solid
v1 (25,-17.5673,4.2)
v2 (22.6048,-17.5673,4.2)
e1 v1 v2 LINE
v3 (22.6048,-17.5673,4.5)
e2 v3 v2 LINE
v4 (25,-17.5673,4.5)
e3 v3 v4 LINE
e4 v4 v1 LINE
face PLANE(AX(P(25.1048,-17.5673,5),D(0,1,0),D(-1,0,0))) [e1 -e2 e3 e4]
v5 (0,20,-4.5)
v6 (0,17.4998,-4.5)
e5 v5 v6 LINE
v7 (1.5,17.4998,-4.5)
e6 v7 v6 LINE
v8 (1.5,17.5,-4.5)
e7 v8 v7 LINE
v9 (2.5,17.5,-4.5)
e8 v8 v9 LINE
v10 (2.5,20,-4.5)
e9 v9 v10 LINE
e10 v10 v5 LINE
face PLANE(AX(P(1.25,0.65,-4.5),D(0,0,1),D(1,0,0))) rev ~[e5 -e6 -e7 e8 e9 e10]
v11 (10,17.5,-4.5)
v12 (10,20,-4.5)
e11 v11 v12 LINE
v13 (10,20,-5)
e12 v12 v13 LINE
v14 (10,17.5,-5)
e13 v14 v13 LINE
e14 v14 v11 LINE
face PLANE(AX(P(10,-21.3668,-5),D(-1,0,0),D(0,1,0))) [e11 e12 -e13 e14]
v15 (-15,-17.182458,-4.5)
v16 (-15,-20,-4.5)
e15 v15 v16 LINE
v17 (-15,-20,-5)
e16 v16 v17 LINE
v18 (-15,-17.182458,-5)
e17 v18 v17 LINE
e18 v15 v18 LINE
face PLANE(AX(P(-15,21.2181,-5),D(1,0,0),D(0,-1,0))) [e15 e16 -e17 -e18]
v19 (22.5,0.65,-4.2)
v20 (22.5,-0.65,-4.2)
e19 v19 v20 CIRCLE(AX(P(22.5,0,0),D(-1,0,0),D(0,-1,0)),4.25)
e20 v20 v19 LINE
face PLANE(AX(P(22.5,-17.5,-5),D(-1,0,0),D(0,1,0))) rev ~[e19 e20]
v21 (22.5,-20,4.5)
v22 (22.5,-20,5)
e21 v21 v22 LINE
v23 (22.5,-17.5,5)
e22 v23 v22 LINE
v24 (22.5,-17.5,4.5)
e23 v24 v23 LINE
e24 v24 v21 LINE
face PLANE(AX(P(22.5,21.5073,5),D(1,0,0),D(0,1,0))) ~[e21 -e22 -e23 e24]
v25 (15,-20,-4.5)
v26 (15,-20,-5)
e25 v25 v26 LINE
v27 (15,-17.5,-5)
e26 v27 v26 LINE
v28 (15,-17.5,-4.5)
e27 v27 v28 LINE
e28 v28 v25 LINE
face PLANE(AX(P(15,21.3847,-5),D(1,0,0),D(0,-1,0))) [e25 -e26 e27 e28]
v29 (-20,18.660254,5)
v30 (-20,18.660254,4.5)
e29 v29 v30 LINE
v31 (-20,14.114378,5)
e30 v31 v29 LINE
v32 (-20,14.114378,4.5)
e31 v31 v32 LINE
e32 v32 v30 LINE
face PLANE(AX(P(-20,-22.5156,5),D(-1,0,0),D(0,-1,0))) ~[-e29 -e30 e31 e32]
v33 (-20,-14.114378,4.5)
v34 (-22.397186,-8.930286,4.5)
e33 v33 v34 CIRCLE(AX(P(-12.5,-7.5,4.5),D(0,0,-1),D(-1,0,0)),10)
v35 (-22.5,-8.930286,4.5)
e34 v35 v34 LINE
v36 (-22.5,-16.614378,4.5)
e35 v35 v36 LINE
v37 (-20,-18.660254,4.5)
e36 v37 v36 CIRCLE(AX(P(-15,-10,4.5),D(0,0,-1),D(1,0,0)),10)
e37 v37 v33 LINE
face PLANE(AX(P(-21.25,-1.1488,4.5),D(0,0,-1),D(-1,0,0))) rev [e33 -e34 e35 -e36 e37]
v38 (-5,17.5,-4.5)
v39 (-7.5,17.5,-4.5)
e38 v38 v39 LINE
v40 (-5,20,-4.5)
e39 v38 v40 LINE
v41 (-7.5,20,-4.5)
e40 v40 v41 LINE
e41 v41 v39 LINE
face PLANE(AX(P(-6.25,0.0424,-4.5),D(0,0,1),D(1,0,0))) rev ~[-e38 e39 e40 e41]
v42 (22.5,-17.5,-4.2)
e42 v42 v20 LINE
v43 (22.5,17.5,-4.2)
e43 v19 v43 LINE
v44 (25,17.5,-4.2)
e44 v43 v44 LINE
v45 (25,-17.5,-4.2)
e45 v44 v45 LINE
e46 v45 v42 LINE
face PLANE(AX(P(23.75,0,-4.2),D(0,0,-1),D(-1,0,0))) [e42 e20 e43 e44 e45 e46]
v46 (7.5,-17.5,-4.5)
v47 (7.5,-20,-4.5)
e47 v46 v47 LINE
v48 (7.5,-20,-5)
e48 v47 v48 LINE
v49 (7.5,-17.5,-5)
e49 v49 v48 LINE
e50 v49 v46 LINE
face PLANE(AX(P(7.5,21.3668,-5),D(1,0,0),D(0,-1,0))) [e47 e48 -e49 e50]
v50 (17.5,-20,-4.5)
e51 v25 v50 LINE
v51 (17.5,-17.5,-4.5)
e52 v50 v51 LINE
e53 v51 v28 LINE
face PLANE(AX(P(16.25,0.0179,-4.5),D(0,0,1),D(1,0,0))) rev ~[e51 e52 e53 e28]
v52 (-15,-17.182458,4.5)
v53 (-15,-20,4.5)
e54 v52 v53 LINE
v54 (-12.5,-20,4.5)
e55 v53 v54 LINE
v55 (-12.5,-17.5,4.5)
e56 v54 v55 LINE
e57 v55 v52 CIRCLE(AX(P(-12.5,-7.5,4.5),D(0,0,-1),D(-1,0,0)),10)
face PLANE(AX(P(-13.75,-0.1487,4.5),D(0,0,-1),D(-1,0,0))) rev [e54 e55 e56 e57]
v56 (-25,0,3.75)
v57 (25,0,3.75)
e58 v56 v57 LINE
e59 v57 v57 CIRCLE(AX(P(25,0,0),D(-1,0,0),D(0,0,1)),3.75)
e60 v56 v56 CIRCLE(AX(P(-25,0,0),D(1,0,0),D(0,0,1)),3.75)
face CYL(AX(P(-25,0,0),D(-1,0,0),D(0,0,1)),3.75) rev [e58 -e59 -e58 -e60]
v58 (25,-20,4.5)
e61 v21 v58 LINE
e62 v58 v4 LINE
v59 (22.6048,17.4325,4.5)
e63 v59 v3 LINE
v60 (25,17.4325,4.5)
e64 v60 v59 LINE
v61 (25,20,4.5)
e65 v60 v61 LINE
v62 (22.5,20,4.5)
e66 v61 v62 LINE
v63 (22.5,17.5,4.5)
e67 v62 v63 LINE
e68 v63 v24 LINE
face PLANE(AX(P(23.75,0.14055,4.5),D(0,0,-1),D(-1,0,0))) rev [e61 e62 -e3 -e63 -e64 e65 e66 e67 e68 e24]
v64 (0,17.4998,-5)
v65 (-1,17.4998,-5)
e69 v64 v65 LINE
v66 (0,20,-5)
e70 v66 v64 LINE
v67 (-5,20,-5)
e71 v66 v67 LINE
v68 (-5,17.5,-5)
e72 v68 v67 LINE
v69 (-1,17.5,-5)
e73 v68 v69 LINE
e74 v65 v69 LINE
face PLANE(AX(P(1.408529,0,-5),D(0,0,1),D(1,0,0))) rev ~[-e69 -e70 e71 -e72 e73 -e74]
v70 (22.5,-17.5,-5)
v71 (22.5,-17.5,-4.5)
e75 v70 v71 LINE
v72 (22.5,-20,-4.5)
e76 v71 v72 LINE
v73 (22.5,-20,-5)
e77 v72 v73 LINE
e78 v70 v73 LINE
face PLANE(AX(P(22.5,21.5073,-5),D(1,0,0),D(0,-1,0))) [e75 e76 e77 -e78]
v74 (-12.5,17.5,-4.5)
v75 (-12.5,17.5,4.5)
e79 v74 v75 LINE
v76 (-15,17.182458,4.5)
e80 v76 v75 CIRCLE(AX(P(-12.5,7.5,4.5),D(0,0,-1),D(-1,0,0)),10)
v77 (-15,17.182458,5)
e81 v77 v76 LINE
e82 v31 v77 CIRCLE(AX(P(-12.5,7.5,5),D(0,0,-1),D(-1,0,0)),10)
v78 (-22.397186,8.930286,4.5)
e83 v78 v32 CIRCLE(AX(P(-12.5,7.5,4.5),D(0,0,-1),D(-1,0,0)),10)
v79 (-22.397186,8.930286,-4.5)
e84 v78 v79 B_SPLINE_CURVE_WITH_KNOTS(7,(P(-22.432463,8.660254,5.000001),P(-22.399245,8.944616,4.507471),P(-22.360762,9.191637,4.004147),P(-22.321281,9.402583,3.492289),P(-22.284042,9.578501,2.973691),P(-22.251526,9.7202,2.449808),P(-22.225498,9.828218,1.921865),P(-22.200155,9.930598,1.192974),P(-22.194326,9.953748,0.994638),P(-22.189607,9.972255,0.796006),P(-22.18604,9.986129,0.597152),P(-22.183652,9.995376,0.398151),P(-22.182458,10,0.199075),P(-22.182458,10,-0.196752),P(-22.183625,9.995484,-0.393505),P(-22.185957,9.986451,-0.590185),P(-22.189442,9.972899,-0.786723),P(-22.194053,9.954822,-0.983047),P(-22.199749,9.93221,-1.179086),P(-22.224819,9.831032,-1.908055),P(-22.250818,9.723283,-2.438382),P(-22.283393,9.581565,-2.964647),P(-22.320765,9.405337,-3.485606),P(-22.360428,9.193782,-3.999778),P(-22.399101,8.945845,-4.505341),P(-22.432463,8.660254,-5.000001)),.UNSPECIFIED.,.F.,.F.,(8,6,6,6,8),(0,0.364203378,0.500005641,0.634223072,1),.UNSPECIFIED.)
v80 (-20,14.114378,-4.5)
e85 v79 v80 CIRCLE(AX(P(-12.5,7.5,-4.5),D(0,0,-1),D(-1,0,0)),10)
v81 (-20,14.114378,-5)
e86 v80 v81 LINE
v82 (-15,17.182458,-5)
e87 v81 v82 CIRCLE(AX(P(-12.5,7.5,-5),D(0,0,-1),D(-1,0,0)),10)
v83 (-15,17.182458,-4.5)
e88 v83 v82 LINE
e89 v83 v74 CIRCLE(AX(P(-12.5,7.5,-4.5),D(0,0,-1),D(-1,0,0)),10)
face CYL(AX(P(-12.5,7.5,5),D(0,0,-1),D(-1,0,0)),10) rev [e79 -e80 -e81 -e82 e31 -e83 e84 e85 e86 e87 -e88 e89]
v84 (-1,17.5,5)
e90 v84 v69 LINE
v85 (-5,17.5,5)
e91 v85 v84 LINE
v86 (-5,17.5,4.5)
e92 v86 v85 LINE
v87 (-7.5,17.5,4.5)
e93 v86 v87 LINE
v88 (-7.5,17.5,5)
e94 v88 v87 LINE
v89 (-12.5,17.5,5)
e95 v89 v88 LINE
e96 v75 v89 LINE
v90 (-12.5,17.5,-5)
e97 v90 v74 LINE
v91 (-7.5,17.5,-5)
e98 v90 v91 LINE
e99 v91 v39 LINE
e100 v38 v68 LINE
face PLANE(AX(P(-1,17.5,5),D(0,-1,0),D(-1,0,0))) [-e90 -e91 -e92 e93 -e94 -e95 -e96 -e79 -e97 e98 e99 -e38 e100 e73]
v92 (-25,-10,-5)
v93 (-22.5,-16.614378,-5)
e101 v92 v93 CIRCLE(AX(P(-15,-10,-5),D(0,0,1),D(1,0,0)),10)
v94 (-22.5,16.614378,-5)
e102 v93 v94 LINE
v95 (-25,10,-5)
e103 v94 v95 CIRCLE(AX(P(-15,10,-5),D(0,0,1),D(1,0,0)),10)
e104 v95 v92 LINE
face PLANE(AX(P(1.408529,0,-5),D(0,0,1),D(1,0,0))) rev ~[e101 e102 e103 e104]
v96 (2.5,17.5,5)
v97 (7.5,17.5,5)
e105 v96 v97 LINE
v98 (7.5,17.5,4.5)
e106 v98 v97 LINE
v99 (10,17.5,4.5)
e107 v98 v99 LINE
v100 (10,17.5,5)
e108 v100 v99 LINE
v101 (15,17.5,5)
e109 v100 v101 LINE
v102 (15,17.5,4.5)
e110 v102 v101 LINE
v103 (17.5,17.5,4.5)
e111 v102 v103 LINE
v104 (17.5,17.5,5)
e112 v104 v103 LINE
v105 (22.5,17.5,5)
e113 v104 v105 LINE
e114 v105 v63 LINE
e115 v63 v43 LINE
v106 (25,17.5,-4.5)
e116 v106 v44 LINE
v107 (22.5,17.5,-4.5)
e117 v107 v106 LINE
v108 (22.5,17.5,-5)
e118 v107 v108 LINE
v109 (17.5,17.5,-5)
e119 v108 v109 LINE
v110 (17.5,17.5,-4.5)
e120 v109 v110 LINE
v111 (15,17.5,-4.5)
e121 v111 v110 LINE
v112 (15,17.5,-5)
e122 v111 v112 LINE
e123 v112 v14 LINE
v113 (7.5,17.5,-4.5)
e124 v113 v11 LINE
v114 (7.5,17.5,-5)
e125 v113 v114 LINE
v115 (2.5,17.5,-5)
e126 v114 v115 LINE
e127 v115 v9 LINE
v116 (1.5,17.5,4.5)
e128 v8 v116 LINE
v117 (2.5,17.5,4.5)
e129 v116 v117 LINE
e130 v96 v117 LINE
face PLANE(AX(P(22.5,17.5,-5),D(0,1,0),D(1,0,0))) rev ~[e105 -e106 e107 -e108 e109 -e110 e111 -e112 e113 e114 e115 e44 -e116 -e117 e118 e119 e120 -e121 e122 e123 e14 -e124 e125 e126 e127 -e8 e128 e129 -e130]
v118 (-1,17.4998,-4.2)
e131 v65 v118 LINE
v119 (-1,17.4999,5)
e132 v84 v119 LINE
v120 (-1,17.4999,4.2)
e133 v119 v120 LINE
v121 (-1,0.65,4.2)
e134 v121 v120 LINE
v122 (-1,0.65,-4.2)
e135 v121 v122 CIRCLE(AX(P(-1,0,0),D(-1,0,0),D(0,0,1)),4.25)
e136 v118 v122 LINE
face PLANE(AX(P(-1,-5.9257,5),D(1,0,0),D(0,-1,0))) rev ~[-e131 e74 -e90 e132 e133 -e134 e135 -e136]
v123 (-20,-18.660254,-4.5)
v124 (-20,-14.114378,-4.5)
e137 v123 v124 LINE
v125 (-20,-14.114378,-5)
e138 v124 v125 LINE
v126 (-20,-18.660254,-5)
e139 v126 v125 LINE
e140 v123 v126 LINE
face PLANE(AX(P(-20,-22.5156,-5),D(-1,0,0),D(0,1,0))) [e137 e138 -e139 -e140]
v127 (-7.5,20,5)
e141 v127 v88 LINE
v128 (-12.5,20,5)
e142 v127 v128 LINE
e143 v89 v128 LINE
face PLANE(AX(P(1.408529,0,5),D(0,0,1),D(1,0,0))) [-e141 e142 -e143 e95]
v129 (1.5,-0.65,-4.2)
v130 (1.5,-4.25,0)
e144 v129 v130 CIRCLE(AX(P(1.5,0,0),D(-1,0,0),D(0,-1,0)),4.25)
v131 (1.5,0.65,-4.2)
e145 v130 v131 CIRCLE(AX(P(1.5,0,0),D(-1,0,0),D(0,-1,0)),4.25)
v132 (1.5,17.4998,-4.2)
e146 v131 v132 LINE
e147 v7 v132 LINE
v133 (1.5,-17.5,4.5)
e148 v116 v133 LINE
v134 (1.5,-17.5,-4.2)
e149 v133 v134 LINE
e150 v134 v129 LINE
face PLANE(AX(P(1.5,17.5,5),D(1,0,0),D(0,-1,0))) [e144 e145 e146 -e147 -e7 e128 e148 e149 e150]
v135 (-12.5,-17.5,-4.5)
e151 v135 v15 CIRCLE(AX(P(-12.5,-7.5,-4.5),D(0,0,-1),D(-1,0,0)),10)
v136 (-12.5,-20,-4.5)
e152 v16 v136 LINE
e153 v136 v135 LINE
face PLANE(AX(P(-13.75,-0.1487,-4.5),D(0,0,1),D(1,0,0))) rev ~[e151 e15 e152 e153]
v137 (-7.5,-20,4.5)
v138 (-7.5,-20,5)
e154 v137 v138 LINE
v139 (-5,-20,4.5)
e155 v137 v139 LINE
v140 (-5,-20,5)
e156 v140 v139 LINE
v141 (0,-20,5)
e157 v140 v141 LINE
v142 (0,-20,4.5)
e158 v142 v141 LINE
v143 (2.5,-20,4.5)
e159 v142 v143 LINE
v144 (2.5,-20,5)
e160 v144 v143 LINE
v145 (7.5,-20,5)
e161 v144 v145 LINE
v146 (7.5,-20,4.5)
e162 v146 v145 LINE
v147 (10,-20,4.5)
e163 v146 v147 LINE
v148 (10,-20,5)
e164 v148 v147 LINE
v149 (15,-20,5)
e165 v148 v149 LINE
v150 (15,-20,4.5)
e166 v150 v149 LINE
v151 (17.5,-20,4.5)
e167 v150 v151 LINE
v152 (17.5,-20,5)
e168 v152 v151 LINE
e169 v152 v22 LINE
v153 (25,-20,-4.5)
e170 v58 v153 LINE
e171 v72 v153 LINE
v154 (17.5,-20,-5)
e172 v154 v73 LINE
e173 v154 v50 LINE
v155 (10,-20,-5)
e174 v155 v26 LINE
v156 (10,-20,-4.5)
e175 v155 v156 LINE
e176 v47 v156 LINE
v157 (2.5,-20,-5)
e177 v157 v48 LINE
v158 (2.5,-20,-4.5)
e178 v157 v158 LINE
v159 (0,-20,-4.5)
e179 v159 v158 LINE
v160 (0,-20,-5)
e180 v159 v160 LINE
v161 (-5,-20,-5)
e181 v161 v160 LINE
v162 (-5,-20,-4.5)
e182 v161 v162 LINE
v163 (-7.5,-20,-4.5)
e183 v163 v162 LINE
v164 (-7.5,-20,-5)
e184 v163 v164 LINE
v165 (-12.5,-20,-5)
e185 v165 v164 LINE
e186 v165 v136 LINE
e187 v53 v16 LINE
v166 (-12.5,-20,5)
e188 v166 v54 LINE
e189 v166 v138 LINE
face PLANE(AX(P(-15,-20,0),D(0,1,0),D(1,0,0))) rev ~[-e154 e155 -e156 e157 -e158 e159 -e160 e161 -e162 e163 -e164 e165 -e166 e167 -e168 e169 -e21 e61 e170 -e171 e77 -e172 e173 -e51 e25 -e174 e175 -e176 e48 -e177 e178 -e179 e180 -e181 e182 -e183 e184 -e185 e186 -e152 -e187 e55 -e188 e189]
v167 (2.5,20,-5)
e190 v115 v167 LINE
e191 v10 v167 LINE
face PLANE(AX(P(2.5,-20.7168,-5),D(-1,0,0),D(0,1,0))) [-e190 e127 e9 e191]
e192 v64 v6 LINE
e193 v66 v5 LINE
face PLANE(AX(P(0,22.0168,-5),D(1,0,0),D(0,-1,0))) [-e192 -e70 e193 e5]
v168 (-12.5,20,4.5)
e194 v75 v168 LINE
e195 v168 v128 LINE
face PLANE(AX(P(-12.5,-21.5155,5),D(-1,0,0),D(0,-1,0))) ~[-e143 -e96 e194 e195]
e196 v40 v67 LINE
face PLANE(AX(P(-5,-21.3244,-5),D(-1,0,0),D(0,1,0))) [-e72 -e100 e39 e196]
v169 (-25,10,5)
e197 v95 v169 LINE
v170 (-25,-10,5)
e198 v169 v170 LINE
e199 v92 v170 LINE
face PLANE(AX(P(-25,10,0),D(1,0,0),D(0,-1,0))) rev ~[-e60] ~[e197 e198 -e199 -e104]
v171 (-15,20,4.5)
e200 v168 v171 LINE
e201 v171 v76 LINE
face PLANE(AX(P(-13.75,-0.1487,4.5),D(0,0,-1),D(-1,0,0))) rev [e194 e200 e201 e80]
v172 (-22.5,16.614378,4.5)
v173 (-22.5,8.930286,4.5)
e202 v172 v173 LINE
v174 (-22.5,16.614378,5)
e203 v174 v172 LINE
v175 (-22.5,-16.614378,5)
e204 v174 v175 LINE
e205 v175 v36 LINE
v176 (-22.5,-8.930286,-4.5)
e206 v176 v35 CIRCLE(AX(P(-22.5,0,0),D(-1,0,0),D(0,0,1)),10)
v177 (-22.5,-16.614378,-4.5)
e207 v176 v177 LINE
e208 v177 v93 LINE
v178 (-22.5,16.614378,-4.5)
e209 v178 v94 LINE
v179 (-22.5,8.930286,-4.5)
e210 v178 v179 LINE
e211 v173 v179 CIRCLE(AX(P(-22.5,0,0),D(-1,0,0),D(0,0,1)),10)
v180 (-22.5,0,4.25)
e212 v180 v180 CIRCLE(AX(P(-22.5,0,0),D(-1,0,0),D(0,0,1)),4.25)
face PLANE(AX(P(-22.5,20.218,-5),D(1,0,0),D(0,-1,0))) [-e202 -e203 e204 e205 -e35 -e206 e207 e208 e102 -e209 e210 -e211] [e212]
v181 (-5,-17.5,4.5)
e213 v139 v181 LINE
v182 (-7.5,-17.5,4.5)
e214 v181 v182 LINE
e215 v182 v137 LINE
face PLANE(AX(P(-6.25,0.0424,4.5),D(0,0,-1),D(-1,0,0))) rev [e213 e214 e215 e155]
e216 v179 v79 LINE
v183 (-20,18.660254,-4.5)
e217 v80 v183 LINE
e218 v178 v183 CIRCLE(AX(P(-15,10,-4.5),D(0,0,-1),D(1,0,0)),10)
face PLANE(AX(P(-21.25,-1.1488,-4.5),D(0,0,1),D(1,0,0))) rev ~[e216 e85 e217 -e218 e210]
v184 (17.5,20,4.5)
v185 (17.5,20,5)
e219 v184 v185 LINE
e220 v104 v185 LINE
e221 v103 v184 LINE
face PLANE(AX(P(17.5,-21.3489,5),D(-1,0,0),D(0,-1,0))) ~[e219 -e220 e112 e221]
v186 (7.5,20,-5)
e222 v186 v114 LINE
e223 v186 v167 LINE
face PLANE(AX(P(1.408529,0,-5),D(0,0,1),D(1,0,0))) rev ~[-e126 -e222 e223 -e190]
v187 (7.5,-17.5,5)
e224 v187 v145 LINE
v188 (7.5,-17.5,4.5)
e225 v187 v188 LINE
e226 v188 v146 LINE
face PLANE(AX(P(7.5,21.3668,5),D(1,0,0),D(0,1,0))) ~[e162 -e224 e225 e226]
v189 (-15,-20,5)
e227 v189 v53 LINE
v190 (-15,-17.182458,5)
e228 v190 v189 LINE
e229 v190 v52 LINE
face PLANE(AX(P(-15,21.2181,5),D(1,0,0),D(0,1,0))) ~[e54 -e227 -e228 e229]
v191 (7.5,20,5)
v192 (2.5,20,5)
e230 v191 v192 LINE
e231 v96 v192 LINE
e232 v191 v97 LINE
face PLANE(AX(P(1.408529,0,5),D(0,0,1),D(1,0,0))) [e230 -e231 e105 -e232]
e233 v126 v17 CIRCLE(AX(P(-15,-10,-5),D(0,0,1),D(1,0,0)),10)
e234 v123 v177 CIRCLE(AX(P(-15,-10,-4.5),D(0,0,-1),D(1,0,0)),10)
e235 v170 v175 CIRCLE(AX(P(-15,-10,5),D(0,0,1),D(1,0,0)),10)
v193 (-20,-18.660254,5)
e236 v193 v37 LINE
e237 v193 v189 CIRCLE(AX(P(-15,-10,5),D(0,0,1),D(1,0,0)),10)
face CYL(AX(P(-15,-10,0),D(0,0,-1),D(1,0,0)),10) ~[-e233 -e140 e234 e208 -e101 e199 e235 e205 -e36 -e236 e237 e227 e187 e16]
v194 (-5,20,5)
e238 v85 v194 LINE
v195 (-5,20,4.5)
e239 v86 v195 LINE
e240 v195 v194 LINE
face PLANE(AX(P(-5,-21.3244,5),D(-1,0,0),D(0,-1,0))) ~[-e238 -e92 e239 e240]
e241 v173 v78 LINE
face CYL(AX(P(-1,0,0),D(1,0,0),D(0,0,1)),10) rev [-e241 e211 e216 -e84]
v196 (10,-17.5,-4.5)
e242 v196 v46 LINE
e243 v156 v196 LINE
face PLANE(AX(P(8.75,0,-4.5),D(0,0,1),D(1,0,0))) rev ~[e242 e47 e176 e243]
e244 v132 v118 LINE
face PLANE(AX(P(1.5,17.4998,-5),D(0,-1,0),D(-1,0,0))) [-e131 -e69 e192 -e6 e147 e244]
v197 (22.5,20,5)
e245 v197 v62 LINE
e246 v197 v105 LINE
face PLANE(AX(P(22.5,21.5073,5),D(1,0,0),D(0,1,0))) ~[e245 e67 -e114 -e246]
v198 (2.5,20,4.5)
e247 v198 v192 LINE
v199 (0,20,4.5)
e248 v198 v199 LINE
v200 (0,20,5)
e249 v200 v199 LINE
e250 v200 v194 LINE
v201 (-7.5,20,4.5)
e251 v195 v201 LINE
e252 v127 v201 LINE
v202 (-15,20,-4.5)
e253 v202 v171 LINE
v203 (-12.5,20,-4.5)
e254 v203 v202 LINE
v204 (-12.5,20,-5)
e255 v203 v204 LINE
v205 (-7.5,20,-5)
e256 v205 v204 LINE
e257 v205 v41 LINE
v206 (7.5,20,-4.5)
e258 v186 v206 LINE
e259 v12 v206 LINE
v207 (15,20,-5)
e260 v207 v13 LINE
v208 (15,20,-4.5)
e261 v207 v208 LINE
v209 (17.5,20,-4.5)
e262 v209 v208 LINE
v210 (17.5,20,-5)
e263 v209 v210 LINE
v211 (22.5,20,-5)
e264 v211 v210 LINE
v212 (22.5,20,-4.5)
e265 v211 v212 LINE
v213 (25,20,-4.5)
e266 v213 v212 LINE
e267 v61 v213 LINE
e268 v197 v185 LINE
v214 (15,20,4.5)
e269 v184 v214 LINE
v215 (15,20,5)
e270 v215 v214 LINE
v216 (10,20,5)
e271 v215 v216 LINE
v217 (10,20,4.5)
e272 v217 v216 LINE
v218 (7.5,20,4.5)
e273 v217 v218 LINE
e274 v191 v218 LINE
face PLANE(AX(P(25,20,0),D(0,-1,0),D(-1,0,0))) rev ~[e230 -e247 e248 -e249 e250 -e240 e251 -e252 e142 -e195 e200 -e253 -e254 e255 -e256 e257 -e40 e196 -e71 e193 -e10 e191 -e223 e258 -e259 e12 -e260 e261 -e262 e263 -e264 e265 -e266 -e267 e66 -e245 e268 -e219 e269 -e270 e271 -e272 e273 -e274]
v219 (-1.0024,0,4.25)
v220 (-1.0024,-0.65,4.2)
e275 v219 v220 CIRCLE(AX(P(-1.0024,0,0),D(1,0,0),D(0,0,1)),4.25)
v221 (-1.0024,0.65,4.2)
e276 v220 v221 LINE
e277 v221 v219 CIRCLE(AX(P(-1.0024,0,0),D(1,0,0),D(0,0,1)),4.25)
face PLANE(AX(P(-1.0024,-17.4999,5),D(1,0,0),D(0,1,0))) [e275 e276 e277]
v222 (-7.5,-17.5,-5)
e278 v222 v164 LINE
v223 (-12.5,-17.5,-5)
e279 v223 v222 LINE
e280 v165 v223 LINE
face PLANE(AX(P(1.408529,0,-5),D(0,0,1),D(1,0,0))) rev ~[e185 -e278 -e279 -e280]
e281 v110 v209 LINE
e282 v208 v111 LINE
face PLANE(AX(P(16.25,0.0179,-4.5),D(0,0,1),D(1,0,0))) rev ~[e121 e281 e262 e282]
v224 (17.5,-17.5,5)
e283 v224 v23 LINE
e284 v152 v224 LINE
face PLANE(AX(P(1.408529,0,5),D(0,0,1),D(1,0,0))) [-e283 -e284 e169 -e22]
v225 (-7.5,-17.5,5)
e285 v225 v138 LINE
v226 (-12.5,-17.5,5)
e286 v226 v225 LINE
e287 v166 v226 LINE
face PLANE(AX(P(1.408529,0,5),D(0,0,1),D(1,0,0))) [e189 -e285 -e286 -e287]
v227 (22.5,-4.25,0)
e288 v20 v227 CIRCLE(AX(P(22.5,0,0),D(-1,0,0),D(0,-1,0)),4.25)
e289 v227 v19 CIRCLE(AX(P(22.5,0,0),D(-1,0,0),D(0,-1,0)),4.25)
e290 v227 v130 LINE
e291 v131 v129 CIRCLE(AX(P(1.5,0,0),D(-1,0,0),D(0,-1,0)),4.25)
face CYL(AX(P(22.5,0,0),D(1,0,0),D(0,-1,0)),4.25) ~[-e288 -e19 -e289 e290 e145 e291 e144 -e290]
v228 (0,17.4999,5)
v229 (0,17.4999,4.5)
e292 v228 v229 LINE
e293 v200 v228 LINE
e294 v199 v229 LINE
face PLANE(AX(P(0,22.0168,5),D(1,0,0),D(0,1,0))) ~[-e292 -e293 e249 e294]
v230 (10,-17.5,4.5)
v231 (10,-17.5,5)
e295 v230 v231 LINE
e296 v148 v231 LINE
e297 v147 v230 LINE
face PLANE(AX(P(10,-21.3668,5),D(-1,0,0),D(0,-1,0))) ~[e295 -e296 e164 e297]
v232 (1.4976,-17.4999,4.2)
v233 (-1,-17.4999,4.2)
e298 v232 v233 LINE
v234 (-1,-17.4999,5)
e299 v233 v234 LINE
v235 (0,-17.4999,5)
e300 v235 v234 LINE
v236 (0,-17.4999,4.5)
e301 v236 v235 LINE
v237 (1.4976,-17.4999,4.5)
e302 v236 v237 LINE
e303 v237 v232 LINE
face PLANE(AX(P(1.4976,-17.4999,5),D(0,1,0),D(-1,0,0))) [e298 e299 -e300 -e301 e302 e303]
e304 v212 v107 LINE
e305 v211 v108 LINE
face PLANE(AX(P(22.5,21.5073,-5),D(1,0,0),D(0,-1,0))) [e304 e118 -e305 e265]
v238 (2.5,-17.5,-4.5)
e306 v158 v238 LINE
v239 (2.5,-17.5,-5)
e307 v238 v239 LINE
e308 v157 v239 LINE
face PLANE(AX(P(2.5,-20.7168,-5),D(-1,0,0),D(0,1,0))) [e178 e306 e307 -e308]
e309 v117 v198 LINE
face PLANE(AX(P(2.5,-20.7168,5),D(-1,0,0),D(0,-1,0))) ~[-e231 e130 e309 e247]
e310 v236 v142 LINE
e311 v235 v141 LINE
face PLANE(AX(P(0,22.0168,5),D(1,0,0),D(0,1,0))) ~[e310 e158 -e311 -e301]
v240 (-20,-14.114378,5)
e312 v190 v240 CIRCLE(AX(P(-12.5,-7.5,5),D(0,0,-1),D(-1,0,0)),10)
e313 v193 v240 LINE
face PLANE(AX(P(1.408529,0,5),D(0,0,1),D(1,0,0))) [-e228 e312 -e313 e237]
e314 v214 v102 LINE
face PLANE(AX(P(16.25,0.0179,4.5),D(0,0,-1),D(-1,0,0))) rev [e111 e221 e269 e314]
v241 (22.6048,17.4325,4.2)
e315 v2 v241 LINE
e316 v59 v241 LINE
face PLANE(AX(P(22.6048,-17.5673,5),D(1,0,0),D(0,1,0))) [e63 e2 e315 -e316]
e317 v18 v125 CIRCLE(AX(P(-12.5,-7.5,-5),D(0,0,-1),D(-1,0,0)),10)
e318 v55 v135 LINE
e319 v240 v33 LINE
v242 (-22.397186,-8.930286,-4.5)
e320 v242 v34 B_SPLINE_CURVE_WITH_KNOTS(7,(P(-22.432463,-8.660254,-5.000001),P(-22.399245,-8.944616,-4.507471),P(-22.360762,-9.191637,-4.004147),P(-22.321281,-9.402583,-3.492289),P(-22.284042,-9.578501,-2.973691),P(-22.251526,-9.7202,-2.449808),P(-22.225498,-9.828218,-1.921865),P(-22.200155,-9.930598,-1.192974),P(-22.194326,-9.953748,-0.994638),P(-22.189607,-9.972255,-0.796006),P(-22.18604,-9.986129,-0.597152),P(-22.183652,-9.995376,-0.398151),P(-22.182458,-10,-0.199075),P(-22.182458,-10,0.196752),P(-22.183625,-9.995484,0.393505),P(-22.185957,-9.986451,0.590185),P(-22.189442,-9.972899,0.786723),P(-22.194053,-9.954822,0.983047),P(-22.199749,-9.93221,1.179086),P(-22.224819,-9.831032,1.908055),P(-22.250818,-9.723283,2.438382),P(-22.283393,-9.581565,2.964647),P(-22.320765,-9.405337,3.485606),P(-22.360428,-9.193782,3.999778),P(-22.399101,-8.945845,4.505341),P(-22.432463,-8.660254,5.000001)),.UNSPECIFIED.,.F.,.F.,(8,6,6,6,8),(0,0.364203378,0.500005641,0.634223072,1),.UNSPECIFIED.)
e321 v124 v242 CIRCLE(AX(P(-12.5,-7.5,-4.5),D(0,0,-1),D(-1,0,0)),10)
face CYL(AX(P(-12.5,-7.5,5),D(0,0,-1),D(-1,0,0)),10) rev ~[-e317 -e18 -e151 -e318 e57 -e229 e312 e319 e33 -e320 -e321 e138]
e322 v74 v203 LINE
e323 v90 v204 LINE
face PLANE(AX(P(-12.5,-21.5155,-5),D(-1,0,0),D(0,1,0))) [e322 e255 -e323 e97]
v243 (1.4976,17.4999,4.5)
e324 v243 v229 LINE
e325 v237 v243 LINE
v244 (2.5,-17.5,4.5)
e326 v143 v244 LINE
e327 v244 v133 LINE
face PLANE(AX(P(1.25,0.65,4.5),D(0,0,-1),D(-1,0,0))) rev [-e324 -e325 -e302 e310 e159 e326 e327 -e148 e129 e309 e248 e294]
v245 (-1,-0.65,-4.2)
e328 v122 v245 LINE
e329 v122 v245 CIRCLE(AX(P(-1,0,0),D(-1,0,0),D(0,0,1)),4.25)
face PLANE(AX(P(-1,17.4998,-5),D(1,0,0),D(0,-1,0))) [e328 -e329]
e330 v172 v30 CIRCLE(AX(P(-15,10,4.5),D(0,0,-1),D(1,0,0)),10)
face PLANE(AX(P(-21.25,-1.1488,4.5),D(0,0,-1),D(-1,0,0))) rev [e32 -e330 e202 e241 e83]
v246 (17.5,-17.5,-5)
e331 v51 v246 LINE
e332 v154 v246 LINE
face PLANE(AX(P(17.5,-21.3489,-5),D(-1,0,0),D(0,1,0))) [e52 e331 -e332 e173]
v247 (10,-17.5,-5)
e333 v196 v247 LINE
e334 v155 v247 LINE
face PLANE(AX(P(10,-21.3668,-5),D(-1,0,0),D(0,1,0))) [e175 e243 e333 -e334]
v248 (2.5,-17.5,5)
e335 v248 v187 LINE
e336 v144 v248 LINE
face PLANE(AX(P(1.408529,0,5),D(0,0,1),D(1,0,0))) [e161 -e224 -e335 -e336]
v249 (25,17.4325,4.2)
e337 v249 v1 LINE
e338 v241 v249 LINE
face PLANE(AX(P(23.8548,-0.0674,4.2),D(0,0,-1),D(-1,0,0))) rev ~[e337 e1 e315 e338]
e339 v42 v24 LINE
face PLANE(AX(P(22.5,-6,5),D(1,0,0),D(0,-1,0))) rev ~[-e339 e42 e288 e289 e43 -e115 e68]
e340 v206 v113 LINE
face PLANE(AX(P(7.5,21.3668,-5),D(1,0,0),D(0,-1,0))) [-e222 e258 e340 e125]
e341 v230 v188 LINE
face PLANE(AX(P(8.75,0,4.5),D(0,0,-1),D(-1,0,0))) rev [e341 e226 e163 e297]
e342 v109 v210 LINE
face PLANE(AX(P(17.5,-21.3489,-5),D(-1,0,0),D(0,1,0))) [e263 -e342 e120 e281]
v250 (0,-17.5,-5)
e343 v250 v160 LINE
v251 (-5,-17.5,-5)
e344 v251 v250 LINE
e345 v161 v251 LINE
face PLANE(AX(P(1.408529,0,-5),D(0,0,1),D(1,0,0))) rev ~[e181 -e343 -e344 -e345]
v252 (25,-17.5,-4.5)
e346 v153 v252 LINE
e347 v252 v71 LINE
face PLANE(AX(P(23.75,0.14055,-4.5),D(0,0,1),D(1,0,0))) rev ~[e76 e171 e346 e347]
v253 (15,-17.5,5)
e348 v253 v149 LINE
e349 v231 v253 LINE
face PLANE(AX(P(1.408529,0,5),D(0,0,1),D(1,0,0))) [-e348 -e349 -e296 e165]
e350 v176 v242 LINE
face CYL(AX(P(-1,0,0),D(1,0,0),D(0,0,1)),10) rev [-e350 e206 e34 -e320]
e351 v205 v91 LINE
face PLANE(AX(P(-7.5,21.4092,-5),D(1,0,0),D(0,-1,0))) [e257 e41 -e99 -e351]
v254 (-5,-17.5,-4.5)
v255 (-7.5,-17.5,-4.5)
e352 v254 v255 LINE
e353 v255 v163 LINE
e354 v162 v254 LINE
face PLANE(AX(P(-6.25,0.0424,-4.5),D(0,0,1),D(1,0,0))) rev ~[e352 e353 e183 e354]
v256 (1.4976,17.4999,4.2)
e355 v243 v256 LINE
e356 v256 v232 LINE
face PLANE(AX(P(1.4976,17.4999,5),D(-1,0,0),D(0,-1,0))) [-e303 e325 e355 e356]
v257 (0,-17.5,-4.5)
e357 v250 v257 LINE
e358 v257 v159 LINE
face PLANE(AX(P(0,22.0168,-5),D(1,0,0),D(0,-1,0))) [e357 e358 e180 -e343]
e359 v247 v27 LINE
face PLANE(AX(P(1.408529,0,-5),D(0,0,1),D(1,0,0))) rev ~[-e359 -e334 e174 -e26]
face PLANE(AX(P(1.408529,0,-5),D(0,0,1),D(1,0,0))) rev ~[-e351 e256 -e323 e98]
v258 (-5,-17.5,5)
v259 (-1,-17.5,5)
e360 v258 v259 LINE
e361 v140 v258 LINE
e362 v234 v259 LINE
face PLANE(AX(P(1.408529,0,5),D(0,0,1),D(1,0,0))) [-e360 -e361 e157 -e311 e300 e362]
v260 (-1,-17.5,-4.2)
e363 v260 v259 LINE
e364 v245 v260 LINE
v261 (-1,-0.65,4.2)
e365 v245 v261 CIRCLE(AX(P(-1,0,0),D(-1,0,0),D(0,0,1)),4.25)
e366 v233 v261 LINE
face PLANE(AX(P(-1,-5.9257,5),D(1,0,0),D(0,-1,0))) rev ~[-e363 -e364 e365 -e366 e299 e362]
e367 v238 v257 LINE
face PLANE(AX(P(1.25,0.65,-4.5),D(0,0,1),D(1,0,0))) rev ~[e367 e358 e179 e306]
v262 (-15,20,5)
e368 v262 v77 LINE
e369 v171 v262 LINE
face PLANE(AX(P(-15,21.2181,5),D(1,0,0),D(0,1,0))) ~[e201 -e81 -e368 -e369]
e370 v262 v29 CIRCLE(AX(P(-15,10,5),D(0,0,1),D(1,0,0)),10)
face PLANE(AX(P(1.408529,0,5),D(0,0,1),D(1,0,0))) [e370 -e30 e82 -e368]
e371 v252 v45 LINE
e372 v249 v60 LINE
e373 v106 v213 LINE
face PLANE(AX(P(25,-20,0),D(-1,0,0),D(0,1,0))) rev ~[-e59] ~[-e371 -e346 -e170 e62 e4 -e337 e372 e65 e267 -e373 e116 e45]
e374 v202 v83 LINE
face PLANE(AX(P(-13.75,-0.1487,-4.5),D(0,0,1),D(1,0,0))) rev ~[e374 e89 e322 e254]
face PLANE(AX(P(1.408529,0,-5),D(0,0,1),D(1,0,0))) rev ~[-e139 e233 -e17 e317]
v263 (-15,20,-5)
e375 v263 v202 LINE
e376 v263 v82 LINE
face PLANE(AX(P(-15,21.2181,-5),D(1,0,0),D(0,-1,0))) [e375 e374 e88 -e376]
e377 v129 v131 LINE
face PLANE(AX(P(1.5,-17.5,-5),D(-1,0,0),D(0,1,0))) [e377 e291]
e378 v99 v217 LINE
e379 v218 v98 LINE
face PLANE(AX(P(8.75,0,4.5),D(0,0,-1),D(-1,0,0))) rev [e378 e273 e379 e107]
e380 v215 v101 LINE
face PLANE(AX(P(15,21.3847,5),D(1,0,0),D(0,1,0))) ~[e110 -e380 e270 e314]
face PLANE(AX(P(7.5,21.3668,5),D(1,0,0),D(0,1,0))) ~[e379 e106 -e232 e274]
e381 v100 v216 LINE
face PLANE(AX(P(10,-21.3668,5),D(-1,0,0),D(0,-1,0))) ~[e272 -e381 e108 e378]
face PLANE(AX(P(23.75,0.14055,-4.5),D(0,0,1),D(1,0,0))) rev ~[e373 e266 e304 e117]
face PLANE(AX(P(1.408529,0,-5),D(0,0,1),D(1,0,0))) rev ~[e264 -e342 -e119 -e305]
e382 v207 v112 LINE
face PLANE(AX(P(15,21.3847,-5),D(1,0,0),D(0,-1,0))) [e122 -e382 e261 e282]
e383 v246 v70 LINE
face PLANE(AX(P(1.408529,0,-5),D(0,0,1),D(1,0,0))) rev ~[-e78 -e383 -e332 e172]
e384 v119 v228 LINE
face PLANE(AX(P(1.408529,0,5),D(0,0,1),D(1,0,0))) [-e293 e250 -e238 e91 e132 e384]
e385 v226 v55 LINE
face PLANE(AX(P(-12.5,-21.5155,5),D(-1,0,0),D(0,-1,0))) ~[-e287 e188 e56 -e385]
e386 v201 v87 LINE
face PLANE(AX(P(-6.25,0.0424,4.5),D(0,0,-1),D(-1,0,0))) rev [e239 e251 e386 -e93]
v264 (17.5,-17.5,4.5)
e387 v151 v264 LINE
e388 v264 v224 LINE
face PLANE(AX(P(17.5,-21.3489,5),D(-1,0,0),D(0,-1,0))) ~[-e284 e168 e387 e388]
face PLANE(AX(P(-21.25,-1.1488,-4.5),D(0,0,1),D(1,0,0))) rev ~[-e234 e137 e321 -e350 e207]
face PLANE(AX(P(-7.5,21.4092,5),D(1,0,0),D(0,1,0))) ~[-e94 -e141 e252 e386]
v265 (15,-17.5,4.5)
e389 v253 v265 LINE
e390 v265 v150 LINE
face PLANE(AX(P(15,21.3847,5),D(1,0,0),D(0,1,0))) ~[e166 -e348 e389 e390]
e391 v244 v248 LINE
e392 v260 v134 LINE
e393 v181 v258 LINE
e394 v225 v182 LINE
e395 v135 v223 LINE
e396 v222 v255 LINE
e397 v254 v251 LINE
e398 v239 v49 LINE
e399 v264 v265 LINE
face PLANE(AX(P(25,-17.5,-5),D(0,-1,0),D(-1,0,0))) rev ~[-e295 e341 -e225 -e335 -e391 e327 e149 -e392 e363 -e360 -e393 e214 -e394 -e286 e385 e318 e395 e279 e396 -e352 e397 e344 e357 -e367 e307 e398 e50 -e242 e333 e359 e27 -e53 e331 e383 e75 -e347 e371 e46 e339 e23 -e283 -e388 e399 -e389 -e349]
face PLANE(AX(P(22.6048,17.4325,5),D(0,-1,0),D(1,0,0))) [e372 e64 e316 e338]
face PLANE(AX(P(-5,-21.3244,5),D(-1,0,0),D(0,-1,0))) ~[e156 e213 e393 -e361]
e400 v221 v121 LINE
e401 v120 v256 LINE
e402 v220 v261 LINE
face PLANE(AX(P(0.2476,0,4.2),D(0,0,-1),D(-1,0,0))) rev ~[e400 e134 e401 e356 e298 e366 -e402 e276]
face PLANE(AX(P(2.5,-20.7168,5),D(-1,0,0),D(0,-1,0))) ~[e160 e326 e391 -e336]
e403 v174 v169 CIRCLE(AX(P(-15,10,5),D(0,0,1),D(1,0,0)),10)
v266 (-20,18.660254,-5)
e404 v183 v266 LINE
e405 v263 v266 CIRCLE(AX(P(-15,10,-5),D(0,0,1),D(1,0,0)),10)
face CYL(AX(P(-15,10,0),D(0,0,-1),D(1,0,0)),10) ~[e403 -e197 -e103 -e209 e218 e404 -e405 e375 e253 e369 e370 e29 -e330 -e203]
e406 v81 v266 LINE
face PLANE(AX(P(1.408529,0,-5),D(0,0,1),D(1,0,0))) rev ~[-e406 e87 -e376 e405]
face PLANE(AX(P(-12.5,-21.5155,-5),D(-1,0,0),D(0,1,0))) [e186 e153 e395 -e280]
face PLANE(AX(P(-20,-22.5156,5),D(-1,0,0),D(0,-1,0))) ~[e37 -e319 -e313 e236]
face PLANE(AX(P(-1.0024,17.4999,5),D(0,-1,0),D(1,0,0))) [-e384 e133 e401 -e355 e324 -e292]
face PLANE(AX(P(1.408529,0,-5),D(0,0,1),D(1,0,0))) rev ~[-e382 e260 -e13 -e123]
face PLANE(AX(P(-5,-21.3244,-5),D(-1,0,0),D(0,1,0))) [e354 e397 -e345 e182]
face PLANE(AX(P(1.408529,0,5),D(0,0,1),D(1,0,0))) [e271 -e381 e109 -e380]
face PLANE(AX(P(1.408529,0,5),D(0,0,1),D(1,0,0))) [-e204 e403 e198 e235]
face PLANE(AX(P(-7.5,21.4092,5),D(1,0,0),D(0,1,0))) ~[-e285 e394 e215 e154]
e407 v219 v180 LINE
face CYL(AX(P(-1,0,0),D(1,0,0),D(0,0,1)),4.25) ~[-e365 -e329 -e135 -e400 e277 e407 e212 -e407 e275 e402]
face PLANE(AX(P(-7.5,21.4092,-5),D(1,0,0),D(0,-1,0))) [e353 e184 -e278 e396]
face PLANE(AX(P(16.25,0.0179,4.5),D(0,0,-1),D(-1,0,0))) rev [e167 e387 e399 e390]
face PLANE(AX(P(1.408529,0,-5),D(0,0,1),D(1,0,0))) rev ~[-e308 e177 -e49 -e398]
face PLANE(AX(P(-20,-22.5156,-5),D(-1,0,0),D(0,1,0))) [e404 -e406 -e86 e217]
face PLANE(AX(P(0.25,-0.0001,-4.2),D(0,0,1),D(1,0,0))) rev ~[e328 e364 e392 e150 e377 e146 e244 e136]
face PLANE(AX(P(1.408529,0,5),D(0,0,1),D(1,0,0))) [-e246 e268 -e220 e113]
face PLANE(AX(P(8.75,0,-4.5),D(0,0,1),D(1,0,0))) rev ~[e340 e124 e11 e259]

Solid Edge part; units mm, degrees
sketch "Sketch1" plane through (0, 0, 0) normal (0, 0, 1) x (1, 0, 0)
  line L0 (25, 20) -> (-15, 20)
  arc A0 (-15, 20) -> (-25, 10) centre (-15, 10) ccw
  line L1 (-25, 10) -> (-25, -10)
  arc A1 (-25, -10) -> (-15, -20) centre (-15, -10) ccw
  line L2 (-15, -20) -> (25, -20)
  line L3 (25, -20) -> (25, 20)
extrude "Protrusion1" add sketch "Sketch1" along normal mid plane 10
hole "Hole_1" at (-25, 0, 0) direction (1, 0, 0) diameter 7.5 end up to next
sketch "Sketch2" plane through (0, 0, 5) normal (0, 0, 1) x (-1, 0, 0)
  line L0 (-22.5, 17.5) -> (-1.5, 17.5)
  line L1 (-1.5, 17.5) -> (-1.5, 6)
  line L2 (-1.5, 6) -> (-22.5, 6)
  line L3 (-22.5, 6) -> (-22.5, 17.5)
  line L4 (1, 17.5) -> (12.5, 17.5)
  arc A0 (12.5, 17.5) -> (22.5, 7.5) centre (12.5, 7.5) cw
  line L5 (22.5, 7.5) -> (22.5, 5.9257)
  line L6 (22.5, 5.9257) -> (1, 5.9257)
  line L7 (1, 5.9257) -> (1, 17.5)
  line L8 (-22.5, -17.5) -> (-1.5, -17.5)
  line L9 (-1.5, -17.5) -> (-1.5, -6)
  line L10 (-1.5, -6) -> (-22.5, -6)
  line L11 (-22.5, -6) -> (-22.5, -17.5)
  line L12 (1, -17.5) -> (12.5, -17.5)
  arc A1 (12.5, -17.5) -> (22.5, -7.5) centre (12.5, -7.5) ccw
  line L13 (22.5, -7.5) -> (22.5, -5.9257)
  line L14 (22.5, -5.9257) -> (1, -5.9257)
  line L15 (1, -5.9257) -> (1, -17.5)
  dimension "D1" = 2.5
  dimension "D2" = 2.5
  dimension "D3" = 2.5
  dimension "D4" = 2.5
  dimension "D5" = 2.5
extrude "ExtrudedCutout_1" cut sketch "Sketch2" along normal mid plane 119.3277
sketch "Sketch3" plane through (22.5, -11.75, 0) normal (-1, 0, 0) x (0, -1, 0)
  circle A0 centre (-11.75, 0) radius 4.25
  circle A1 centre (-11.75, 0) radius 10
extrude "Cutout1" cut sketch "Sketch3" along normal up to surface (21 mm away)
sketch "Sketch4" plane through (-1, 11.7128, 0) normal (-1, 0, 0) x (0, 0, 1)
  circle A0 centre (0, -11.7128) radius 4.25
  circle A1 centre (0, -11.7128) radius 10
extrude "Cutout2" cut sketch "Sketch4" along normal up to surface (21.5 mm away)
sketch "Sketch5" plane through (0, 0, -5) normal (0, 0, -1) x (-1, 0, 0)
  line L0 (-22.5, 17.5) -> (-25, 17.5)
  line L1 (-25, 17.5) -> (-25, -17.5)
  line L2 (-25, -17.5) -> (-22.5, -17.5)
  line L3 (-22.5, -17.5) -> (-22.5, 17.5)
  line L4 (1, -17.5) -> (-1.5, -17.5)
  line L5 (-1.5, -17.5) -> (-1.5, 17.4998)
  line L6 (-1.5, 17.4998) -> (1, 17.4998)
  line L7 (1, 17.4998) -> (1, -17.5)
extrude "ExtrudedCutout_8" cut sketch "Sketch5" against normal blind 0.8
sketch "Sketch6" plane through (12.5913, -1.8511, 5) normal (0, 0, 1) x (1, 0, 0)
  line L0 (-11.0937, -15.6488) -> (-13.5937, -15.6488)
  line L1 (-13.5937, -15.6488) -> (-13.5937, 19.351)
  line L2 (-13.5937, 19.351) -> (-11.0937, 19.351)
  line L3 (-11.0937, 19.351) -> (-11.0937, -15.6488)
  line L4 (12.5135, -15.7162) -> (10.0135, -15.7162)
  line L5 (10.0135, -15.7162) -> (10.0135, 19.2836)
  line L6 (10.0135, 19.2836) -> (12.5135, 19.2836)
  line L7 (12.5135, 19.2836) -> (12.5135, -15.7162)
extrude "ExtrudedCutout_9" cut sketch "Sketch6" against normal blind 0.8
sketch "Sketch7" plane through (0, 0, -5) normal (0, 0, -1) x (1, 0, 0)
  line L0 (-15, 21.5155) -> (-12.5, 21.5155)
  line L1 (-12.5, 21.5155) -> (-12.5, -21.2181)
  line L2 (-12.5, -21.2181) -> (-15, -21.2181)
  line L3 (-15, -21.2181) -> (-15, 21.5155)
  line L4 (-7.5, 21.3244) -> (-5, 21.3244)
  line L5 (-5, 21.3244) -> (-5, -21.4092)
  line L6 (-5, -21.4092) -> (-7.5, -21.4092)
  line L7 (-7.5, -21.4092) -> (-7.5, 21.3244)
  line L8 (0, 20.7168) -> (2.5, 20.7168)
  line L9 (2.5, 20.7168) -> (2.5, -22.0168)
  line L10 (2.5, -22.0168) -> (0, -22.0168)
  line L11 (0, -22.0168) -> (0, 20.7168)
  line L12 (7.5, 21.3668) -> (10, 21.3668)
  line L13 (10, 21.3668) -> (10, -21.3668)
  line L14 (10, -21.3668) -> (7.5, -21.3668)
  line L15 (7.5, -21.3668) -> (7.5, 21.3668)
  line L16 (15, 21.3489) -> (17.5, 21.3489)
  line L17 (17.5, 21.3489) -> (17.5, -21.3847)
  line L18 (17.5, -21.3847) -> (15, -21.3847)
  line L19 (15, -21.3847) -> (15, 21.3489)
  line L20 (22.5, 21.2262) -> (25, 21.2262)
  line L21 (25, 21.2262) -> (25, -21.5073)
  line L22 (25, -21.5073) -> (22.5, -21.5073)
  line L23 (22.5, -21.5073) -> (22.5, 21.2262)
  line L24 (-22.5, 22.5156) -> (-20, 22.5156)
  line L25 (-20, 22.5156) -> (-20, -20.218)
  line L26 (-20, -20.218) -> (-22.5, -20.218)
  line L27 (-22.5, -20.218) -> (-22.5, 22.5156)
  dimension "D1" = 5
  dimension "D2" = 5
  dimension "D3" = 5
  dimension "D4" = 5
  dimension "D5" = 5
  dimension "D6" = 5
extrude "ExtrudedCutout_11" cut sketch "Sketch7" against normal blind 0.5
mirror "Mirror1" about plane through (0, 0, 0) normal (0, 0, -1) of "ExtrudedCutout_11"
